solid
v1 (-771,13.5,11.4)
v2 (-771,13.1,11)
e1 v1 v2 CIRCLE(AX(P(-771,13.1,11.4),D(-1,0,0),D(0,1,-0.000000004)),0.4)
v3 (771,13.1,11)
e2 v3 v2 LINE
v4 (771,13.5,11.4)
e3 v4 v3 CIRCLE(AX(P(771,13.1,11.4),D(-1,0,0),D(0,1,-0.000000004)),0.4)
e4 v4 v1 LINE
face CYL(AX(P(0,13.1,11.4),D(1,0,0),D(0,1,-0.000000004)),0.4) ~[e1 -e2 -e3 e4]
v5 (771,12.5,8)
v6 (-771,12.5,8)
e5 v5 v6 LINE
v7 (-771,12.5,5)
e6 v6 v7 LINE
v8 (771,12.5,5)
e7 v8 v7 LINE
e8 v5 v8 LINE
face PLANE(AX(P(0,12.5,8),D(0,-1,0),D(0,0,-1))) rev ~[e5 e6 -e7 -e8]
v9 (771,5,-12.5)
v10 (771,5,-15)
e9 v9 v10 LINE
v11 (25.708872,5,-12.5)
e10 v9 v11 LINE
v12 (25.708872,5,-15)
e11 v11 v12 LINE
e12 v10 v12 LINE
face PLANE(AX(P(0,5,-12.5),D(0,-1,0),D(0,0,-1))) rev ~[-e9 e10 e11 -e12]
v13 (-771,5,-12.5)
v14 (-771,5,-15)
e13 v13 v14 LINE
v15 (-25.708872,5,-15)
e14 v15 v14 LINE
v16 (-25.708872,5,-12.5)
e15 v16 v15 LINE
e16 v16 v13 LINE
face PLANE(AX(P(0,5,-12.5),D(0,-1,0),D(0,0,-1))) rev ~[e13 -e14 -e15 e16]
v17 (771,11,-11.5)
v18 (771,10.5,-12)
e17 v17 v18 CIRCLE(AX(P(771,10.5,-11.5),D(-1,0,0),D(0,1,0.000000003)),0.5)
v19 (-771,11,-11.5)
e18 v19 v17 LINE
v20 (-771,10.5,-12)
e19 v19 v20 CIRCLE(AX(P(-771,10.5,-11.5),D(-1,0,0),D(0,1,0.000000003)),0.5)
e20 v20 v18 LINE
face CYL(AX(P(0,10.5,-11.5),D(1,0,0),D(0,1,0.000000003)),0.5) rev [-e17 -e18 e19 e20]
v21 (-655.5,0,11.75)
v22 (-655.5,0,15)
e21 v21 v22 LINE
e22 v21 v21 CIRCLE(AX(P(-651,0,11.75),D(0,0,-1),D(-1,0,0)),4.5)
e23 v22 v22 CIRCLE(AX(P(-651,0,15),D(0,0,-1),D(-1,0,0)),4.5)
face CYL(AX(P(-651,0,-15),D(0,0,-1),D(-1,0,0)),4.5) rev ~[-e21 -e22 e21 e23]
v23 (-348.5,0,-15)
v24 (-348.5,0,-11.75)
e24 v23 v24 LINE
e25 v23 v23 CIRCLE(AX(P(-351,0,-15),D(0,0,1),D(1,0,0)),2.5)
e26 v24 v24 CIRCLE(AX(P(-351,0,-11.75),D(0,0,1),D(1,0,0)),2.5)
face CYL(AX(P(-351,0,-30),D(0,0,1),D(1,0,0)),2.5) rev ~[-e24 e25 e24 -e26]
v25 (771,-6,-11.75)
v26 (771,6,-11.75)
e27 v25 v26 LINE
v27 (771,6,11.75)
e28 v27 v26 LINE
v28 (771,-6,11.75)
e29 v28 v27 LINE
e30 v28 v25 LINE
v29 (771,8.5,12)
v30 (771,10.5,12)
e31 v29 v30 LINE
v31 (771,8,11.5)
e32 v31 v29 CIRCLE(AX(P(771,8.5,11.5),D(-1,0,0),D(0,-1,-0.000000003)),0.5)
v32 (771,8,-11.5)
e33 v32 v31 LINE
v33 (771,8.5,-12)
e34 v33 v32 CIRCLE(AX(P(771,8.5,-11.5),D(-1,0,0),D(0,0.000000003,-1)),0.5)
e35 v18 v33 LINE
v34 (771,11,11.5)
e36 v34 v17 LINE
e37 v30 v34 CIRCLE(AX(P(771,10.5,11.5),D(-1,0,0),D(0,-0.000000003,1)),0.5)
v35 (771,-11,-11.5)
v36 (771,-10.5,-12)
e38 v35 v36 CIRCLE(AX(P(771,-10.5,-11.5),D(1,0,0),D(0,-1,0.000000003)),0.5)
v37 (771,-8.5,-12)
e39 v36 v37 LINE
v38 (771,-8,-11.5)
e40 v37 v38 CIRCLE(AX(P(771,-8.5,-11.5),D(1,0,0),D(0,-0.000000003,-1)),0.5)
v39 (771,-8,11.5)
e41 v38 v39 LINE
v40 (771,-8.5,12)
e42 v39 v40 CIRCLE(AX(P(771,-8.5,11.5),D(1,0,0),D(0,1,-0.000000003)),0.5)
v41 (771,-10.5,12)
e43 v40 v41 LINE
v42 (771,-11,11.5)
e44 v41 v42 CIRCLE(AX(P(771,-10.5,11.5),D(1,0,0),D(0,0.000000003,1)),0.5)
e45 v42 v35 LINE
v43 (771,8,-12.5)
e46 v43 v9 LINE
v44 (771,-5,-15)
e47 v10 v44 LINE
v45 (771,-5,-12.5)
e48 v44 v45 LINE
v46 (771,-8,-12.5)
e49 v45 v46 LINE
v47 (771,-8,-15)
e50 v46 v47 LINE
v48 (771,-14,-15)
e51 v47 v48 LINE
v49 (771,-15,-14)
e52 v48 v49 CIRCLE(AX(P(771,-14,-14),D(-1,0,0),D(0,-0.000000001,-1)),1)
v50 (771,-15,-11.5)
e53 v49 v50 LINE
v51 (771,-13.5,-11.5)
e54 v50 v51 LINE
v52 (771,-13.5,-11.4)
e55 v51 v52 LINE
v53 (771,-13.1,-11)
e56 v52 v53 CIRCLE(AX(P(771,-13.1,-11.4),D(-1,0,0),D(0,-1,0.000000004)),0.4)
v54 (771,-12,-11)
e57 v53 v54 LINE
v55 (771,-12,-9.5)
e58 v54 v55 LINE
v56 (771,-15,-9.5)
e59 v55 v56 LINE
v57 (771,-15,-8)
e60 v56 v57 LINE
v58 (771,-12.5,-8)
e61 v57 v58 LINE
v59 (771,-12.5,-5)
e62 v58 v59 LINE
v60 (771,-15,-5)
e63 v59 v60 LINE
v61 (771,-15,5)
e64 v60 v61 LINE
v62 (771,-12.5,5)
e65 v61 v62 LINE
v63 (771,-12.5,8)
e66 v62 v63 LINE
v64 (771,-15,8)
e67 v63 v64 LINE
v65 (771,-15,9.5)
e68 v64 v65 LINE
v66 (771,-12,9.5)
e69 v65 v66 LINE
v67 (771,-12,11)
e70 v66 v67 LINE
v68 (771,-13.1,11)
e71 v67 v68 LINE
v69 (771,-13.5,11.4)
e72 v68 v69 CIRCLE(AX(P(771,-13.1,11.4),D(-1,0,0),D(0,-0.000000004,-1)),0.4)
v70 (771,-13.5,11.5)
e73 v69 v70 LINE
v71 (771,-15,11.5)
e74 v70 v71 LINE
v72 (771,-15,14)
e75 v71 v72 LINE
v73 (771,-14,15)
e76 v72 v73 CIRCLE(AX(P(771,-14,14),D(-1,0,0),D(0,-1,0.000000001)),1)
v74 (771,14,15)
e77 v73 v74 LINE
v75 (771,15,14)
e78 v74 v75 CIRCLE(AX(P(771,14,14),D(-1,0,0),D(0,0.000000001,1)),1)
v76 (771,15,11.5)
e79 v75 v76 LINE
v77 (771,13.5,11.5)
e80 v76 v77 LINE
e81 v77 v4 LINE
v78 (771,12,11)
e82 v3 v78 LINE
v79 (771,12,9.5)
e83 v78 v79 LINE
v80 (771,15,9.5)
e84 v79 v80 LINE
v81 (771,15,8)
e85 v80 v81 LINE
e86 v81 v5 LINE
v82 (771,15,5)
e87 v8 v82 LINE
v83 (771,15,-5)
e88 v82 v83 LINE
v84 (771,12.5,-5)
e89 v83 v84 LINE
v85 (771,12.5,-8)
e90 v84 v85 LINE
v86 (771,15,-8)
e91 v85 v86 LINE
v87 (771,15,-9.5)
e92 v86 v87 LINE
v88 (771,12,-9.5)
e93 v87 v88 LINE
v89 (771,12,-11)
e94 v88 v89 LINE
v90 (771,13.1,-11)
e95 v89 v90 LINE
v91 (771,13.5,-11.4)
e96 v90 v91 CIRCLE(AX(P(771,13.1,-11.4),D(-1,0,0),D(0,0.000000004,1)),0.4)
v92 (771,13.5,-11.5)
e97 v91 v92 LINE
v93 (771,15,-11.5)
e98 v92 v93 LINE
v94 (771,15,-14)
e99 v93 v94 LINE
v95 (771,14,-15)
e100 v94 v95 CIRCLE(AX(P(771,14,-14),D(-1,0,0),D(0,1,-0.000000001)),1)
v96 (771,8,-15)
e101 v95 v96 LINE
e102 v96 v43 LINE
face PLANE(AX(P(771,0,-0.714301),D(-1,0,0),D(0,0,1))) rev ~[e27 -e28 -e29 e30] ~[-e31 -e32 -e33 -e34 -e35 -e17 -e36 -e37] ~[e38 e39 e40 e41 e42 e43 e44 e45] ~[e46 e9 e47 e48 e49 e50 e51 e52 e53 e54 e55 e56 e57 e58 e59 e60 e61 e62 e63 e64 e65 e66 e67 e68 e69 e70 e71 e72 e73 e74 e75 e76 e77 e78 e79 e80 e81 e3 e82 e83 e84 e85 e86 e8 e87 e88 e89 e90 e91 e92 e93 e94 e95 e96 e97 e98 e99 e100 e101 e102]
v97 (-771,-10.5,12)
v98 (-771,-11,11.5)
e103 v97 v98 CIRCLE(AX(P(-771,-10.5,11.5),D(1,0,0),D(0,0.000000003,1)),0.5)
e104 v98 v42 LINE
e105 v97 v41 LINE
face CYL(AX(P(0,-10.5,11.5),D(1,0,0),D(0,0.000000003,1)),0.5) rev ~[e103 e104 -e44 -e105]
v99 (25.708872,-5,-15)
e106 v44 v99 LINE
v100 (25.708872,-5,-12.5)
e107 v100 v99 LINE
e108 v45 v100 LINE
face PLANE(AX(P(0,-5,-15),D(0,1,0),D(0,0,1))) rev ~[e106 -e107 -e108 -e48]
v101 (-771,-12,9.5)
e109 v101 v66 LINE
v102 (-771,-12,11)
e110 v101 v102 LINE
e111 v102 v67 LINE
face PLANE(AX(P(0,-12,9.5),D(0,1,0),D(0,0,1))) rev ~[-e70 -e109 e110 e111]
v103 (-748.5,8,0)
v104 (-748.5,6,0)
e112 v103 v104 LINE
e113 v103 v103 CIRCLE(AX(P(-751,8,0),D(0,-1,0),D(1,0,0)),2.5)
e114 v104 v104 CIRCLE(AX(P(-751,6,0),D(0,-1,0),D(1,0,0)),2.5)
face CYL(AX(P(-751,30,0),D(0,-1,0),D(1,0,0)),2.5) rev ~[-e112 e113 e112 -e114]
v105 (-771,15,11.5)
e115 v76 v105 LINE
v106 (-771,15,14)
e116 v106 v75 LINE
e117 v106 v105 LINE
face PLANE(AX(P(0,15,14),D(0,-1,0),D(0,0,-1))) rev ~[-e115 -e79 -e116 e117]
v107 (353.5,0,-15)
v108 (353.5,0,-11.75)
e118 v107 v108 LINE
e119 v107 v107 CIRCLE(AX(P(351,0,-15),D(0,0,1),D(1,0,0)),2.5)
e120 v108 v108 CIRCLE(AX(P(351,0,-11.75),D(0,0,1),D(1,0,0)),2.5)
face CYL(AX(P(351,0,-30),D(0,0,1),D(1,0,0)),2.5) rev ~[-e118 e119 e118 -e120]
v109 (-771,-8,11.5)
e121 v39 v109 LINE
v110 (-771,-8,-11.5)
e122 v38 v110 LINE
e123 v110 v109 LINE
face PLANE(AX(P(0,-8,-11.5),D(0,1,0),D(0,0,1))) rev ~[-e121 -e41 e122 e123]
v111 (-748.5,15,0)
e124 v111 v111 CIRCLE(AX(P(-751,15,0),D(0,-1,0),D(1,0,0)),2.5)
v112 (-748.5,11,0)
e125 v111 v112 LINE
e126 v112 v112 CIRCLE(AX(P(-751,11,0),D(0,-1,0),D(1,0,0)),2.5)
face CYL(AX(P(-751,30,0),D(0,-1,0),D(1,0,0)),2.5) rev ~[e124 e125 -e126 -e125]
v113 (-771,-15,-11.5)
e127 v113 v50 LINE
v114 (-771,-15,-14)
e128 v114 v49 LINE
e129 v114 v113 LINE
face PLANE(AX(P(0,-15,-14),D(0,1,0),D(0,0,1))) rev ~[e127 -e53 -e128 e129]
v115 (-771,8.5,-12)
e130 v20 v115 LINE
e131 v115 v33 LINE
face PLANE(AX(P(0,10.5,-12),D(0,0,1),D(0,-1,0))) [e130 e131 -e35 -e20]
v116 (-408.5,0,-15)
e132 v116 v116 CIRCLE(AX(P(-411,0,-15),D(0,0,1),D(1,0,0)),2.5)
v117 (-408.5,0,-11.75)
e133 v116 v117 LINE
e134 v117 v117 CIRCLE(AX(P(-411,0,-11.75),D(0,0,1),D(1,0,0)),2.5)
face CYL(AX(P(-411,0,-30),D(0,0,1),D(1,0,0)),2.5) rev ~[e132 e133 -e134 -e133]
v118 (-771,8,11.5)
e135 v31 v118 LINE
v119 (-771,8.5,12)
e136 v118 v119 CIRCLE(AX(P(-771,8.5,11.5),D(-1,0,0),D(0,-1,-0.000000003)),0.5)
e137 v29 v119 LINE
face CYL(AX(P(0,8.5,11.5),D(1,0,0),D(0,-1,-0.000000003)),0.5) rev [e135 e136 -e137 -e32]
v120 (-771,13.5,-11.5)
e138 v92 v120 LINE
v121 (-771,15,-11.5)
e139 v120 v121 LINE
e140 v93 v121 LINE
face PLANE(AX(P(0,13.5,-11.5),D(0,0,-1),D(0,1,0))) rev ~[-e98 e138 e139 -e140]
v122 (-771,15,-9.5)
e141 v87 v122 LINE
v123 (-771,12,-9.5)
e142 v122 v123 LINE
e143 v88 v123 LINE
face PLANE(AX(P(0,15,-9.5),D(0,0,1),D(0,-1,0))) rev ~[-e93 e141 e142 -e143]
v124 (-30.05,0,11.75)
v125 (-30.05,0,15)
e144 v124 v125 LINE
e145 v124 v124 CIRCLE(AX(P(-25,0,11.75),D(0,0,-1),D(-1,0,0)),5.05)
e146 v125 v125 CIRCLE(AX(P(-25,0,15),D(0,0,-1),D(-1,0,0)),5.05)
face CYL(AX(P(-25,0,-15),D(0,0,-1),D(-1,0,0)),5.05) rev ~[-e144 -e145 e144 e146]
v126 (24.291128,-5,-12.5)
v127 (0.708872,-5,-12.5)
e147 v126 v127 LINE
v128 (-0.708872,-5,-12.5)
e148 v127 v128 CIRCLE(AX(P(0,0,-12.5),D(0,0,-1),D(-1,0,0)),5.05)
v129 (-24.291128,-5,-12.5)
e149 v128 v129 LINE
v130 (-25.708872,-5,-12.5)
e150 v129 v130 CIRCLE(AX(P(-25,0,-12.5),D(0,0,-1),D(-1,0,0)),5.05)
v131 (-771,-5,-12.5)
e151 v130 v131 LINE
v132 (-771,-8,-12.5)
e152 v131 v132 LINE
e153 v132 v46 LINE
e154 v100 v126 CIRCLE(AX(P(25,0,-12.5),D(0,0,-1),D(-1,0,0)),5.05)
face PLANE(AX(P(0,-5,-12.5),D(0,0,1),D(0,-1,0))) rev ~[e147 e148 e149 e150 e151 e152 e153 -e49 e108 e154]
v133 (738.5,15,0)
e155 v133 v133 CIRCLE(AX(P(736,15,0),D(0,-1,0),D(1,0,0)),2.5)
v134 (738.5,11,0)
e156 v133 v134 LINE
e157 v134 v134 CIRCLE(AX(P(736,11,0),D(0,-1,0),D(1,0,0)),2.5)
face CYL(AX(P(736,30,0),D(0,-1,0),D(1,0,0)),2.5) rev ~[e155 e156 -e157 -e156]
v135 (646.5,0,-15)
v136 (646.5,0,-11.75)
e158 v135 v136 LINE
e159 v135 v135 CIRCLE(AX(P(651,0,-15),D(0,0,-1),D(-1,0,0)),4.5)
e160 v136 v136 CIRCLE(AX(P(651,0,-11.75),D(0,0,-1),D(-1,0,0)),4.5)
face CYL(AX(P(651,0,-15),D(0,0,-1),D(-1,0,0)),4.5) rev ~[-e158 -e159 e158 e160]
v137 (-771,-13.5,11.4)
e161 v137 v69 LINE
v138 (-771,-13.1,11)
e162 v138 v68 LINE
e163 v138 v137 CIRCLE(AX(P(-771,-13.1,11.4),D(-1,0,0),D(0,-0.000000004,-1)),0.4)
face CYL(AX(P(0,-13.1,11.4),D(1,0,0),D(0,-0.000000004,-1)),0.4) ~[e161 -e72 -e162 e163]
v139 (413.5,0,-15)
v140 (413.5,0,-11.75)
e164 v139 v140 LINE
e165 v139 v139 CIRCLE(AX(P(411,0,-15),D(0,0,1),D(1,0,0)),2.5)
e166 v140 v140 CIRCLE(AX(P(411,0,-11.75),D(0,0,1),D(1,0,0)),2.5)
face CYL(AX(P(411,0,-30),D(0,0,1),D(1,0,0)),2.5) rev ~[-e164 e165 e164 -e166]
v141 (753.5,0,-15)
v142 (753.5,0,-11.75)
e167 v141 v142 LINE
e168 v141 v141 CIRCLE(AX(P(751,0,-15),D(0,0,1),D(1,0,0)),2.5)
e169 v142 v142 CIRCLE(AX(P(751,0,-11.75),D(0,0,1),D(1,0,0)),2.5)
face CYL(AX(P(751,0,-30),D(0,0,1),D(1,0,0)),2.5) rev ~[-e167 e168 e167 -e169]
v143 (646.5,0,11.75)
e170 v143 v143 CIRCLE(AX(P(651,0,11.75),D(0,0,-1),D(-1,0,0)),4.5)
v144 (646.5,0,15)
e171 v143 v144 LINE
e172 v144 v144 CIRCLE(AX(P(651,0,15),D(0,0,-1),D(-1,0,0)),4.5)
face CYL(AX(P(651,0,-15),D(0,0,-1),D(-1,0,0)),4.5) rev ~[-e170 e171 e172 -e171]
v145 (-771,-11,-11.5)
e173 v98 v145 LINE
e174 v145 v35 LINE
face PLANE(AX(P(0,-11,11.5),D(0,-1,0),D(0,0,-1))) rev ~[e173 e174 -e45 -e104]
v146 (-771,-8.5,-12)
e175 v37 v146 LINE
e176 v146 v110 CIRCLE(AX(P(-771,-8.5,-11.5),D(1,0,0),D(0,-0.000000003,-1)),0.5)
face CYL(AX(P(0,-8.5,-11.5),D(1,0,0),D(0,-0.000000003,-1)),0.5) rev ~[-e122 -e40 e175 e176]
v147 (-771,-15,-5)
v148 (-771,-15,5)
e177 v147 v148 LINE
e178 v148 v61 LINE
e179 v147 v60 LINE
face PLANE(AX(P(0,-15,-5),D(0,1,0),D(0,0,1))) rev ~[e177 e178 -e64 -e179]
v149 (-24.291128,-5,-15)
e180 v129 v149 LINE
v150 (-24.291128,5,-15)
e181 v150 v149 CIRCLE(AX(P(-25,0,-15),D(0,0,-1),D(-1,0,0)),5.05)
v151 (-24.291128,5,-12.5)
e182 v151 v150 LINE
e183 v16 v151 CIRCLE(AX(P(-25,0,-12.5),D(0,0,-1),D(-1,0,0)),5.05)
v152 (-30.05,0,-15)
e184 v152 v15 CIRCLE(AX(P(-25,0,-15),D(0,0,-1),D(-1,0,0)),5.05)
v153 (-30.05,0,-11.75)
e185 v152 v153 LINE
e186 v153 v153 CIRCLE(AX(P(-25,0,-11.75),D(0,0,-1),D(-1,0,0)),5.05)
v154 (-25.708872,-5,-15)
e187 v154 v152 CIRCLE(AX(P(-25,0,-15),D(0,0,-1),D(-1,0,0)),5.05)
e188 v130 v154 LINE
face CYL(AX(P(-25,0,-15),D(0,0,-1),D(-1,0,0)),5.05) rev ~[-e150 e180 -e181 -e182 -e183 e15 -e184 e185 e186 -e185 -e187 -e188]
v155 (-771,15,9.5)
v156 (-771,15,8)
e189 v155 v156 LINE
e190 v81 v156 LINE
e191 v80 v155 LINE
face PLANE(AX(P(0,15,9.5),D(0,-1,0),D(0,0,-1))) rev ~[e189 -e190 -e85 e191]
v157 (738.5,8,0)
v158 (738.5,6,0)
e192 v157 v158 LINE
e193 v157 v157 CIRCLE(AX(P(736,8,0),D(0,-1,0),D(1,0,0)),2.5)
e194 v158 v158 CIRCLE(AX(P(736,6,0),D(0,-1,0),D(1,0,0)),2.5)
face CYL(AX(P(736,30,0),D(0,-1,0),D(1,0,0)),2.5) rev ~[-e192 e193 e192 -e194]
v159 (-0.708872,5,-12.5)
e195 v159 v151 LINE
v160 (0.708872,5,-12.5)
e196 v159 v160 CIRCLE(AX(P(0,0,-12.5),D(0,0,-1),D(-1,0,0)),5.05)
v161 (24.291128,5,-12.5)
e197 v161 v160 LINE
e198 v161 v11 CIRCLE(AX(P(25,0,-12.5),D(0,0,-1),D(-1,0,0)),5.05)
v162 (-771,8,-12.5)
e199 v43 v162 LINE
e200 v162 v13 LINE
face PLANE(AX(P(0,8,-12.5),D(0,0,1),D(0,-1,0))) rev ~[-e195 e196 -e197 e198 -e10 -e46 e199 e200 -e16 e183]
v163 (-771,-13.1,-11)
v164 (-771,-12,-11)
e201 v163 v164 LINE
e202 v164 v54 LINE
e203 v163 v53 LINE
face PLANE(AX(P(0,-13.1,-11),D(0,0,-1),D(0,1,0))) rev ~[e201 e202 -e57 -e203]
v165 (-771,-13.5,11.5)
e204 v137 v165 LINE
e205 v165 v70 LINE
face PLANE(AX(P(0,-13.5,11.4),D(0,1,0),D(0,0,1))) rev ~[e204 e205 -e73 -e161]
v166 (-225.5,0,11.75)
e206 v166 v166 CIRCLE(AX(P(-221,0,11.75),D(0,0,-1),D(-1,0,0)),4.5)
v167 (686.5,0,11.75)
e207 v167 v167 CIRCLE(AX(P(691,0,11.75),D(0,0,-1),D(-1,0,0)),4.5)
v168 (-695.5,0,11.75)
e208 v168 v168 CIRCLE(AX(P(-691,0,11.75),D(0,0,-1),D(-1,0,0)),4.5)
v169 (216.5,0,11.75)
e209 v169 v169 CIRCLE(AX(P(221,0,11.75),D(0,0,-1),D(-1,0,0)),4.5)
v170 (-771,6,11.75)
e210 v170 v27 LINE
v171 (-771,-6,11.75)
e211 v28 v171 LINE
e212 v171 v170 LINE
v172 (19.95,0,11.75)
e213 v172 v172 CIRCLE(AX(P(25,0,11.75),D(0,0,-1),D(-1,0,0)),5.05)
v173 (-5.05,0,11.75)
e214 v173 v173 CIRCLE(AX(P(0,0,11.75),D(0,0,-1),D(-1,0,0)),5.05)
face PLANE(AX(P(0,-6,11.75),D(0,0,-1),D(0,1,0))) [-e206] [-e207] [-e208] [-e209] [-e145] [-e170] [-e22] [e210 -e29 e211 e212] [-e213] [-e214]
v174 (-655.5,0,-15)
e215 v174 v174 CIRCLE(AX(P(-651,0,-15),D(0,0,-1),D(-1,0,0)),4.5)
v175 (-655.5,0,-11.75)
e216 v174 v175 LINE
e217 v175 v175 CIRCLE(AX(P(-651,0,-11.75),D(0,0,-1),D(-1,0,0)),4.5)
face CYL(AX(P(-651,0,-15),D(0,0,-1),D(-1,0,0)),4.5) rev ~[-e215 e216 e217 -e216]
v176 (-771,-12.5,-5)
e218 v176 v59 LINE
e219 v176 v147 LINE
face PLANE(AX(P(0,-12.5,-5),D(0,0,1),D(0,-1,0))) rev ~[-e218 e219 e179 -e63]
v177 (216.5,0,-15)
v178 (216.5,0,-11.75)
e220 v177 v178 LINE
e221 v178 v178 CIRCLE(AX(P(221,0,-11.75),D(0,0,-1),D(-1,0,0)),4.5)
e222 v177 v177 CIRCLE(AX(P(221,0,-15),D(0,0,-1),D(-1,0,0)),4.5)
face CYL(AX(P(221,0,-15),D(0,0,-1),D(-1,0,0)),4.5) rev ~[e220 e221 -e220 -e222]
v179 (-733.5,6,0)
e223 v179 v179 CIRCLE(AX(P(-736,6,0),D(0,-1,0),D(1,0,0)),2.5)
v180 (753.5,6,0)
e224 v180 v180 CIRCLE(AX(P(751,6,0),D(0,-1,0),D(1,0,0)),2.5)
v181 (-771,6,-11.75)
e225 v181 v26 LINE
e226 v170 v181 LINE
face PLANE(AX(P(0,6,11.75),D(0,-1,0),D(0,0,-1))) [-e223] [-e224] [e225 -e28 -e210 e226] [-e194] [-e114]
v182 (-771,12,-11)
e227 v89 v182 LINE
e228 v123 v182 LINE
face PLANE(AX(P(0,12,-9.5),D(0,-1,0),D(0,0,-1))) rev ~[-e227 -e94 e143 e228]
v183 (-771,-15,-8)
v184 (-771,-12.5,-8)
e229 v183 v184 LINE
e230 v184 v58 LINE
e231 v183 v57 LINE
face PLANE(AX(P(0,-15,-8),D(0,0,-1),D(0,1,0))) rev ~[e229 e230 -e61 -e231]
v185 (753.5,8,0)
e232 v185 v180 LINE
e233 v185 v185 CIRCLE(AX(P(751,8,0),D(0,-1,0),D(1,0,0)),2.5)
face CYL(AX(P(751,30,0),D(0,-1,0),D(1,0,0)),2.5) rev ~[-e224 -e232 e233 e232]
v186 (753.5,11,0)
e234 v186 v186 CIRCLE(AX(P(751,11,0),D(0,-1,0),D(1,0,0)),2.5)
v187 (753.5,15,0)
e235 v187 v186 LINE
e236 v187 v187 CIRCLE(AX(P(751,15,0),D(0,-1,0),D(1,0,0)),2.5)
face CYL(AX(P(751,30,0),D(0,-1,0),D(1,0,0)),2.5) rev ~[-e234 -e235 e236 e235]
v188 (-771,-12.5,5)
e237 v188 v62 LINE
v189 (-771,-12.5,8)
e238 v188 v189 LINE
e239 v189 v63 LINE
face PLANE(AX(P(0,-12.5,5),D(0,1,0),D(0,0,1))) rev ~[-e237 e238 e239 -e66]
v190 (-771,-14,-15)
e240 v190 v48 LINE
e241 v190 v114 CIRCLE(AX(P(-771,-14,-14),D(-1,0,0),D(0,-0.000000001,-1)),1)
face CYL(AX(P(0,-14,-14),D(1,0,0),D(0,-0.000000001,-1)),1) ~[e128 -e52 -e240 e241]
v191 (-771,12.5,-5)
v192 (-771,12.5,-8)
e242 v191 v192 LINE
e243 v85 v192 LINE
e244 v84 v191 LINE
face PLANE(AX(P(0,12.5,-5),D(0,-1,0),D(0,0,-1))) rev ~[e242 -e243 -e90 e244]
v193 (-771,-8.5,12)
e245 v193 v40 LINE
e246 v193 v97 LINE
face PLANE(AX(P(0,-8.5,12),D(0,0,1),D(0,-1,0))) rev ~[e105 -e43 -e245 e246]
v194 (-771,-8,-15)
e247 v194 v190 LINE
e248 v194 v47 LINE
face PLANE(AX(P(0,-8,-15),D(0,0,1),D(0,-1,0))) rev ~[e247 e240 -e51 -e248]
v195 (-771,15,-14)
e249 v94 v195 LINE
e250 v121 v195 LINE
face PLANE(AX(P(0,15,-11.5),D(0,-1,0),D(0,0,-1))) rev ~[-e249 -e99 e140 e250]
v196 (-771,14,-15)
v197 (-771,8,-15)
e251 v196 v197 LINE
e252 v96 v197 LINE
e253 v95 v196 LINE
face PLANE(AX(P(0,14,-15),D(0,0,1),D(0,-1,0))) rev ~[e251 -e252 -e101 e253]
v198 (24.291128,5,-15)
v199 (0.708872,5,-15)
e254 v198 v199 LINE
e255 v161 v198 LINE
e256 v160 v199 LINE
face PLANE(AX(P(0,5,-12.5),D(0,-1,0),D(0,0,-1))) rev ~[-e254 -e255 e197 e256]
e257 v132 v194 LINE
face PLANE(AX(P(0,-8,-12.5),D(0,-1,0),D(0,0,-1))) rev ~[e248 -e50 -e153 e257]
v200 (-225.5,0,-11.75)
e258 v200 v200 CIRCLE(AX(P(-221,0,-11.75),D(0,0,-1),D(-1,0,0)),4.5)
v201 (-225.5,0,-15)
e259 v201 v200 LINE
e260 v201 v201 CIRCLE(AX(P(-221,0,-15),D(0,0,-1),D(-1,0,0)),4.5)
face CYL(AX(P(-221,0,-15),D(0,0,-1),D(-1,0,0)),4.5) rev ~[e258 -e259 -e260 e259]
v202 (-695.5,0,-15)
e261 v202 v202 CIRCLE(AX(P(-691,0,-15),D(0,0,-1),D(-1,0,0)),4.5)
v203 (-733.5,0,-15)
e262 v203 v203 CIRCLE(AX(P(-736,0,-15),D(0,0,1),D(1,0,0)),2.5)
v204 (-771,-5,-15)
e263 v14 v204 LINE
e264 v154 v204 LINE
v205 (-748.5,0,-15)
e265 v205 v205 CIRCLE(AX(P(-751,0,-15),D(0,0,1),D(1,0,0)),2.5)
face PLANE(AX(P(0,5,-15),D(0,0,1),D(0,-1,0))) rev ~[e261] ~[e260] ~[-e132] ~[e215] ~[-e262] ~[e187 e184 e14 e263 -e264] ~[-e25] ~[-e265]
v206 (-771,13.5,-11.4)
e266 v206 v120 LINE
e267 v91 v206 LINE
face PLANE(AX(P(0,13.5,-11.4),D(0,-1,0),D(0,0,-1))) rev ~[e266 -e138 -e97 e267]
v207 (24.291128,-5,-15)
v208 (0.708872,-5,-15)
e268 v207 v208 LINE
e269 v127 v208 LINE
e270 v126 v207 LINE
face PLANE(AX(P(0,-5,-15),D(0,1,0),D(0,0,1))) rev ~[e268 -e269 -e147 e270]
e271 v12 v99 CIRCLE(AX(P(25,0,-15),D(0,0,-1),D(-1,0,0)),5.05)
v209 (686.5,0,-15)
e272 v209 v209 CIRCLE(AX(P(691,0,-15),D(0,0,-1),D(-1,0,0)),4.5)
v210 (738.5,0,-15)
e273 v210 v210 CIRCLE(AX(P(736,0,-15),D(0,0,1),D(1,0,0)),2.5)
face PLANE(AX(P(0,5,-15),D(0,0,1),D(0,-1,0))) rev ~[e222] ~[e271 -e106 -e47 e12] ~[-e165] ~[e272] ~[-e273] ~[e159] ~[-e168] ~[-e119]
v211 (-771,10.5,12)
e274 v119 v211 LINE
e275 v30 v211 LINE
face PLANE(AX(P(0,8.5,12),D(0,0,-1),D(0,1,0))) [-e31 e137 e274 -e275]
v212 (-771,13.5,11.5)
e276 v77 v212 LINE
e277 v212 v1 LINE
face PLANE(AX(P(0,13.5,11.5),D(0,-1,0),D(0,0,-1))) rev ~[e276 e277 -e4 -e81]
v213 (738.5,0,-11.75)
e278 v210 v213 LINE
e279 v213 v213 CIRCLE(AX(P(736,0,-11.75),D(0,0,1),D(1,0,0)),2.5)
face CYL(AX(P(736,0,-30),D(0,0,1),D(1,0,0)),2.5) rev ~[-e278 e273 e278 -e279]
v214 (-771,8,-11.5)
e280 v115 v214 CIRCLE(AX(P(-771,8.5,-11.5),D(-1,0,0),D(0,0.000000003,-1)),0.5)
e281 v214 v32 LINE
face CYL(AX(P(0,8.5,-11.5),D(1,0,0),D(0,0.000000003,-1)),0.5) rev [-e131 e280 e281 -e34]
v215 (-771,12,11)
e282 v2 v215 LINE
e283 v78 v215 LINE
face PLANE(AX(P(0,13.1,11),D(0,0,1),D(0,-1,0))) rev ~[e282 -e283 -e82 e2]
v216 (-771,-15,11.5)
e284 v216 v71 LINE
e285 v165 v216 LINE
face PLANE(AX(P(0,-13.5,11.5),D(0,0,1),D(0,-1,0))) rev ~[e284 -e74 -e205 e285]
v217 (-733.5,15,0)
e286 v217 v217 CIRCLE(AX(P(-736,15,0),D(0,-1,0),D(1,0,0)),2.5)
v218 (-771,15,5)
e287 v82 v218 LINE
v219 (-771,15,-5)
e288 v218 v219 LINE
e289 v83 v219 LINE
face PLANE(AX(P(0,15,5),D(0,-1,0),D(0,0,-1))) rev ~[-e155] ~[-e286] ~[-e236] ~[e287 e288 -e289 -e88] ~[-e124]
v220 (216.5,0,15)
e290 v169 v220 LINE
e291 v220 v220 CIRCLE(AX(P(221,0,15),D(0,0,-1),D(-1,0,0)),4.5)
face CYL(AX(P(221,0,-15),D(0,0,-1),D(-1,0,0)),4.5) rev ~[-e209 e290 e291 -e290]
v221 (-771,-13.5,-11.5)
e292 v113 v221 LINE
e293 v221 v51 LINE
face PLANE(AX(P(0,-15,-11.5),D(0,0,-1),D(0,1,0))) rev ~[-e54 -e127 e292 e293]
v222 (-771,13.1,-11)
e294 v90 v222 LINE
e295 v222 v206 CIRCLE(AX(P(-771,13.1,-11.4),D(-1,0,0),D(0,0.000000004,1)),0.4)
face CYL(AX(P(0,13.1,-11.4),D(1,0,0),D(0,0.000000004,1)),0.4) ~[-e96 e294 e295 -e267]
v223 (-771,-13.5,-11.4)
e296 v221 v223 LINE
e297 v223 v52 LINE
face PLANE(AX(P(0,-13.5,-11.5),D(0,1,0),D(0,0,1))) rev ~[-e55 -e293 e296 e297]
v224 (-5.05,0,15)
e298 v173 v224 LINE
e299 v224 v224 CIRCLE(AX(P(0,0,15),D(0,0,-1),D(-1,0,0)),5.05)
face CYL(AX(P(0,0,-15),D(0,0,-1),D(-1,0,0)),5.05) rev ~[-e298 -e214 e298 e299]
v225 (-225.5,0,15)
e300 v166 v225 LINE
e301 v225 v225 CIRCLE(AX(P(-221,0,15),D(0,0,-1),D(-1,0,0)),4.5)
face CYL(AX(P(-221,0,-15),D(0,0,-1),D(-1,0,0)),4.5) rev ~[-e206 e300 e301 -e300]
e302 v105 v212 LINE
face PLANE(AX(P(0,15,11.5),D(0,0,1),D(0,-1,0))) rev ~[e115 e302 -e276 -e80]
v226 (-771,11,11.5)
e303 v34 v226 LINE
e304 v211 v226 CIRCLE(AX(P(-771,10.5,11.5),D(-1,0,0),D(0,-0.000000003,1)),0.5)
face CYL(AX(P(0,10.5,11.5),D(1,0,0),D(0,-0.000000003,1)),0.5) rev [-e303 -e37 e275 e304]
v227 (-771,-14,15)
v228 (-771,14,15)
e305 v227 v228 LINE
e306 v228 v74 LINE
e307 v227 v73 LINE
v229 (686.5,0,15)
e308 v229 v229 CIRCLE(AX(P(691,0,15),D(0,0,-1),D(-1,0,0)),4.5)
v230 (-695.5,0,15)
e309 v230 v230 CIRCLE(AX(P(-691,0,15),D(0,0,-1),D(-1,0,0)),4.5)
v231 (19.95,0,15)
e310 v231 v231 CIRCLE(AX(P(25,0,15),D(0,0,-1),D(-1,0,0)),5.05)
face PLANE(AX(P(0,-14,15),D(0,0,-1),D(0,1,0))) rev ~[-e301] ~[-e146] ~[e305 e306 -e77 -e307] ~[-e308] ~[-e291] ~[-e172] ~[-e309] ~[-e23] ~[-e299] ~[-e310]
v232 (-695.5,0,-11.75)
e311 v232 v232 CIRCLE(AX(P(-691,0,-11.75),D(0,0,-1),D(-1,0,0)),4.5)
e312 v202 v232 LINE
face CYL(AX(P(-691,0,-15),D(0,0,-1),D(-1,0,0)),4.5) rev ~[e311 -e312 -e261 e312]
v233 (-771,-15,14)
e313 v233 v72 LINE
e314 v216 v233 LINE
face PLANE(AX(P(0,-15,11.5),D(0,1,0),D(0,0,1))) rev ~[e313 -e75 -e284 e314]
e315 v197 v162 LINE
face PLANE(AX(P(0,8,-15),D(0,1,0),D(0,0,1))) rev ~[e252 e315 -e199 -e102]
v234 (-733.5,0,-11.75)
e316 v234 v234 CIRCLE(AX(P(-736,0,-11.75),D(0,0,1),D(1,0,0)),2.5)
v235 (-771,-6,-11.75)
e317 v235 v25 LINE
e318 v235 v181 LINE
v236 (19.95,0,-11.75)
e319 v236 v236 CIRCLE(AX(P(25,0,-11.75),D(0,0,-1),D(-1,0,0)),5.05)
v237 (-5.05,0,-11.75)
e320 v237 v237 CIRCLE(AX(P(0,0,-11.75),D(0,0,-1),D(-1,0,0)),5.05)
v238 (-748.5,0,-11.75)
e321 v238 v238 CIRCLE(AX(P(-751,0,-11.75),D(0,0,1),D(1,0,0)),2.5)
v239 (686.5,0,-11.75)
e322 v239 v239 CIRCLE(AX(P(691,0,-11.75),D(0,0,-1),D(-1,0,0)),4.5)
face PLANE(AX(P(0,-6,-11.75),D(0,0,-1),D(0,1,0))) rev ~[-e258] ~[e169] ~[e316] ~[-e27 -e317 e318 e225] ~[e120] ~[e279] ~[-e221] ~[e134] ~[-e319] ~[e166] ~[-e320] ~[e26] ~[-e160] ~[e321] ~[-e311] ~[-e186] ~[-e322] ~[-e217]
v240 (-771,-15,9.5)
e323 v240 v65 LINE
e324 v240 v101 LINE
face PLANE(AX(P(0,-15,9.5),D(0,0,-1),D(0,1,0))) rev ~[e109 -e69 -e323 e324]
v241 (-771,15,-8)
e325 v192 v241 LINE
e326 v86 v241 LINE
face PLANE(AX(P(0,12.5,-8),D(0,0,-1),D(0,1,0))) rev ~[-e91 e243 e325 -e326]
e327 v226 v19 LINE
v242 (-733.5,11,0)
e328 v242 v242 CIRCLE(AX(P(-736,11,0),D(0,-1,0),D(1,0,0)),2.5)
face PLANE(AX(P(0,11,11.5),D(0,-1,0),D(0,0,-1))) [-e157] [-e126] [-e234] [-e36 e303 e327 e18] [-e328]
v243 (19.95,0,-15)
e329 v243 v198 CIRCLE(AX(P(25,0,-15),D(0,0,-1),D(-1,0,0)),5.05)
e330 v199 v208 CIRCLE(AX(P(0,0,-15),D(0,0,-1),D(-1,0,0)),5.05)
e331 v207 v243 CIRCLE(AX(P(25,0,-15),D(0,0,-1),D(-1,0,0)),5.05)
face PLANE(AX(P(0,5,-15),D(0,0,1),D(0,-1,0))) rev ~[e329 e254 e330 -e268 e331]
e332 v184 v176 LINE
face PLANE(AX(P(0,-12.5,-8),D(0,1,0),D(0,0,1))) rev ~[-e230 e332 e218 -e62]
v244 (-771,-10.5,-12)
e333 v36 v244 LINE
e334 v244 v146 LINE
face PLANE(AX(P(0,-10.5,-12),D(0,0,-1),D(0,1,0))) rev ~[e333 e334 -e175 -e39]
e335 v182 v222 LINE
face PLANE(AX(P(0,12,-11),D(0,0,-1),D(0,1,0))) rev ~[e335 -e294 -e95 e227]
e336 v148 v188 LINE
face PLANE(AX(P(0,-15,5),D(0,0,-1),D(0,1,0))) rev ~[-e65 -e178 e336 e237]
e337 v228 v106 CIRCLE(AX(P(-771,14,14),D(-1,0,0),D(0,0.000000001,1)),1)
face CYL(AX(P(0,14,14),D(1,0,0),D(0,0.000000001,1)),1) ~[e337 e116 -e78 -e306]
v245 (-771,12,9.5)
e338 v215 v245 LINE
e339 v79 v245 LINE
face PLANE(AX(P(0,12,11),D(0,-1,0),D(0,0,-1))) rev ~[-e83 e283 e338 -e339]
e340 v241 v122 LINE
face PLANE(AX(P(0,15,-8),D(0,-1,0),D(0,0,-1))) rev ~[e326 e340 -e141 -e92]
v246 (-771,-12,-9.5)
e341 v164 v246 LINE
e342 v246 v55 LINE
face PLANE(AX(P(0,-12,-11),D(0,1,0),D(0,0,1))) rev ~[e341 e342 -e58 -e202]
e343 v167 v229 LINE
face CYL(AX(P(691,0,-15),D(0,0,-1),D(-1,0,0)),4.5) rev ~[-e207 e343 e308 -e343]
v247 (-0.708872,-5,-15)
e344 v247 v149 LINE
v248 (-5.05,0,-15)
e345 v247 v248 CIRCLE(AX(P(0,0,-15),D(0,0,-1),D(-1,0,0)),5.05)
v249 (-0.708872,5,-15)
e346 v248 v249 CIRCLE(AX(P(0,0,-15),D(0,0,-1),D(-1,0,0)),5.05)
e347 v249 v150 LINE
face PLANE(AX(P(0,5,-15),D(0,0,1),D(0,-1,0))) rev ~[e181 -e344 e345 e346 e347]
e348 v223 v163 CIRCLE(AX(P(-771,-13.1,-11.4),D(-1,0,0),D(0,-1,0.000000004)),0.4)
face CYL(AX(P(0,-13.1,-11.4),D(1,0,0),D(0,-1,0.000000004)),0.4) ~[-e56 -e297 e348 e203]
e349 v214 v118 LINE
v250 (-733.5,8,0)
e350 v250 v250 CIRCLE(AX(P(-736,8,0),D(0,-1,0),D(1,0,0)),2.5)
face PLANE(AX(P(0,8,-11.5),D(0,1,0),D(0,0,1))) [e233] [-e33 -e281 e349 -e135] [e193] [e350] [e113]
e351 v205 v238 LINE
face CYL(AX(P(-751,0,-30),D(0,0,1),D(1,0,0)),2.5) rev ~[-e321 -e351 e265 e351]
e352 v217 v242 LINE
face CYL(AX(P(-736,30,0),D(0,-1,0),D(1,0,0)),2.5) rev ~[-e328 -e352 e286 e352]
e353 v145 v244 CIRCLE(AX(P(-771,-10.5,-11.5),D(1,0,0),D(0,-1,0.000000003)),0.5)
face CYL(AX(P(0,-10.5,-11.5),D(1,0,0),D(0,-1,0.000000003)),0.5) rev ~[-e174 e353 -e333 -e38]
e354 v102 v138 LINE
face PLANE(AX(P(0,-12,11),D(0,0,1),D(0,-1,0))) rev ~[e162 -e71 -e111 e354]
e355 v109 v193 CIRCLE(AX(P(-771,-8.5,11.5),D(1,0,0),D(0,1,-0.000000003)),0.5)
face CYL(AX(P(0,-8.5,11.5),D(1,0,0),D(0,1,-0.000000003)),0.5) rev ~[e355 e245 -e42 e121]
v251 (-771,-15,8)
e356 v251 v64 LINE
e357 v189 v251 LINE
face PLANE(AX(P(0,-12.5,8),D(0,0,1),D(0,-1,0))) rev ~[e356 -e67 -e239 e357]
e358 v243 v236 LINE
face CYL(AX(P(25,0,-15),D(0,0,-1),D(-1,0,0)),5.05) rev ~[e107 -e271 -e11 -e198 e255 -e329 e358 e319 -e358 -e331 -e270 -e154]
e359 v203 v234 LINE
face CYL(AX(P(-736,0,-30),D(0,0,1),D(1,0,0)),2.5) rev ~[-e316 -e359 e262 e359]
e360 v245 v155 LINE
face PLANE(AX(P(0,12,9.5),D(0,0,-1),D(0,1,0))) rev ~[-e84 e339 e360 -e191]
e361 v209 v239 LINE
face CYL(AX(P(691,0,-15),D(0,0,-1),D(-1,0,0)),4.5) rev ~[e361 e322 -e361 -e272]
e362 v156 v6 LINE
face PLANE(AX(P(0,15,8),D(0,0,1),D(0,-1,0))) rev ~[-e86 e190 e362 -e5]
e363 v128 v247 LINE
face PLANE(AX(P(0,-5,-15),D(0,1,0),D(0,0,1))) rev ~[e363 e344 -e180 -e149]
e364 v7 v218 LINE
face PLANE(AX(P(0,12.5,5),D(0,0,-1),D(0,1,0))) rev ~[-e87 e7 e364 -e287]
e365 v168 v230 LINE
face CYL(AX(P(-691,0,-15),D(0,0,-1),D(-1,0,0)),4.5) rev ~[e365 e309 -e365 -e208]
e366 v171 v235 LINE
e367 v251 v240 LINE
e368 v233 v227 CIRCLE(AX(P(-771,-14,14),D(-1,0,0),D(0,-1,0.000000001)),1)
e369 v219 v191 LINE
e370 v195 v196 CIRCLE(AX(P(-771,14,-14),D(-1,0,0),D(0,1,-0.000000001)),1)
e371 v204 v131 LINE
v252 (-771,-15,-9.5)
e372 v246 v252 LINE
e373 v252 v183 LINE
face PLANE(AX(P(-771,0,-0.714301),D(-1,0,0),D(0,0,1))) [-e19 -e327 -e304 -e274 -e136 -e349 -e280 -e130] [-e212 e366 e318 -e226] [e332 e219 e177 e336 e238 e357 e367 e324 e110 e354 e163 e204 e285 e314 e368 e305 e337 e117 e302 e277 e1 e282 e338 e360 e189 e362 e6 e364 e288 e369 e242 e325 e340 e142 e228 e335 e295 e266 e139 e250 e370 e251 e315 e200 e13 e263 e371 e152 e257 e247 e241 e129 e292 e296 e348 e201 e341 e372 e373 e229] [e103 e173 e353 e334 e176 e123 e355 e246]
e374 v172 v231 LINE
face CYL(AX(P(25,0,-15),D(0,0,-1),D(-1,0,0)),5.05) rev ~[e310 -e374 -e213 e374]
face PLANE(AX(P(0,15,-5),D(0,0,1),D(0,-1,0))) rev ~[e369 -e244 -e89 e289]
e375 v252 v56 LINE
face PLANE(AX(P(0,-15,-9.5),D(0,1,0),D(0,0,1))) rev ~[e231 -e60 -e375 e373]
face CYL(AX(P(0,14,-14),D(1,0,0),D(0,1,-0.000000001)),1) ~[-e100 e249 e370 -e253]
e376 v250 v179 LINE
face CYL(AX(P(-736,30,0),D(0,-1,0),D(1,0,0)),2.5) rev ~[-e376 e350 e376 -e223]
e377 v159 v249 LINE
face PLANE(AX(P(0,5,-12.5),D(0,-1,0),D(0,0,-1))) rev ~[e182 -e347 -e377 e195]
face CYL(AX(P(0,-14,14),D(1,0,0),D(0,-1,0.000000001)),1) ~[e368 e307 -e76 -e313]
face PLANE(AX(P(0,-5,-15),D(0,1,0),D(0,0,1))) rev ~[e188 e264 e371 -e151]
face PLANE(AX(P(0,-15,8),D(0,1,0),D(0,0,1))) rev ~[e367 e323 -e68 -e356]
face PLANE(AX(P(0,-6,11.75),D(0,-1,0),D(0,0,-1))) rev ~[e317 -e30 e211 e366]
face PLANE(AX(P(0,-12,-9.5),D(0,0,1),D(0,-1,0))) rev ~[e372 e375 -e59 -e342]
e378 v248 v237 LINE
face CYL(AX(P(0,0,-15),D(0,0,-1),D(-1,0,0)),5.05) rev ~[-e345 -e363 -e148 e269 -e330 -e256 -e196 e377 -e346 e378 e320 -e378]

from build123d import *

# Parameters (mm, degrees)
SKETCH_1_W             = 23.5
SKETCH_1_H             = 12
EXTRUDE_1_DEPTH        = 771
HOLE_WIZARD_M6_3_D     = 5
HOLE_WIZARD_M6_3_DEPTH = 15
HOLE_WIZARD_M6_3_TIP   = 1.502151548
SKETCH_13_R            = 5.05
CUT_EXTRUDE_6_DEPTH    = 772.729227126
HOLE_WIZARD_M6_4_D     = 5
HOLE_WIZARD_M6_4_DEPTH = 15
HOLE_WIZARD_M6_4_TIP   = 1.502151548
SKETCH_10_R            = 4.5
CUT_EXTRUDE_7_DEPTH    = 772.729227126
HOLE_WIZARD_M6_5_D     = 5
HOLE_WIZARD_M6_5_DEPTH = 15
HOLE_WIZARD_M6_5_TIP   = 1.502151548


with BuildPart() as part:
    # 草图1 → 凸台-拉伸1 (new, symmetric)
    with BuildSketch(Plane(origin=(0, 0, 0), x_dir=(0, 0, -1), z_dir=(1, 0, 0))):
        with BuildLine():
            Line((-14, 15), (-11.5, 15))
            Line((-11.5, 15), (-11.5, 13.5))
            Line((-11.5, 13.5), (-11.4, 13.5))
            ThreePointArc((-11.4, 13.5), (-11.117157288, 13.382842712), (-11, 13.1))
            Line((-11, 13.1), (-11, 12))
            Line((-11, 12), (-9.5, 12))
            Line((-9.5, 12), (-9.5, 15))
            Line((-9.5, 15), (-8, 15))
            Line((-8, 15), (-8, 12.5))
            Line((-8, 12.5), (-5, 12.5))
            Line((-5, 12.5), (-5, 15))
            Line((-5, 15), (5, 15))
            Line((5, 15), (5, 12.5))
            Line((5, 12.5), (8, 12.5))
            Line((8, 12.5), (8, 15))
            Line((8, 15), (9.5, 15))
            Line((9.5, 15), (9.5, 12))
            Line((9.5, 12), (11, 12))
            Line((11, 12), (11, 13.1))
            ThreePointArc((11, 13.1), (11.117157288, 13.382842712), (11.4, 13.5))
            Line((11.4, 13.5), (11.5, 13.5))
            Line((11.5, 13.5), (11.5, 15))
            Line((11.5, 15), (14, 15))
            ThreePointArc((14, 15), (14.707106781, 14.707106781), (15, 14))
            Line((15, 14), (15, 8))
            Line((15, 8), (12.5, 8))
            Line((12.5, 8), (12.5, 5))
            Line((12.5, 5), (15, 5))
            Line((15, 5), (15, -5))
            Line((15, -5), (12.5, -5))
            Line((12.5, -5), (12.5, -8))
            Line((12.5, -8), (15, -8))
            Line((15, -8), (15, -14))
            ThreePointArc((15, -14), (14.707106781, -14.707106781), (14, -15))
            Line((14, -15), (11.5, -15))
            Line((11.5, -15), (11.5, -13.5))
            Line((11.5, -13.5), (11.4, -13.5))
            ThreePointArc((11.4, -13.5), (11.117157288, -13.382842712), (11, -13.1))
            Line((11, -13.1), (11, -12))
            Line((11, -12), (9.5, -12))
            Line((9.5, -12), (9.5, -15))
            Line((9.5, -15), (8, -15))
            Line((8, -15), (8, -12.5))
            Line((8, -12.5), (5, -12.5))
            Line((5, -12.5), (5, -15))
            Line((5, -15), (-5, -15))
            Line((-5, -15), (-5, -12.5))
            Line((-5, -12.5), (-8, -12.5))
            Line((-8, -12.5), (-8, -15))
            Line((-8, -15), (-9.5, -15))
            Line((-9.5, -15), (-9.5, -12))
            Line((-9.5, -12), (-11, -12))
            Line((-11, -12), (-11, -13.1))
            ThreePointArc((-11, -13.1), (-11.117157288, -13.382842712), (-11.4, -13.5))
            Line((-11.4, -13.5), (-11.5, -13.5))
            Line((-11.5, -13.5), (-11.5, -15))
            Line((-11.5, -15), (-14, -15))
            ThreePointArc((-14, -15), (-14.707106781, -14.707106781), (-15, -14))
            Line((-15, -14), (-15, 14))
            ThreePointArc((-15, 14), (-14.707106781, 14.707106781), (-14, 15))
        make_face()
        with BuildLine():
            Line((12, -10.5), (12, -8.5))
            ThreePointArc((12, -8.5), (11.853553391, -8.146446609), (11.5, -8))
            Line((11.5, -8), (-11.5, -8))
            ThreePointArc((-11.5, -8), (-11.853553391, -8.146446609), (-12, -8.5))
            Line((-12, -8.5), (-12, -10.5))
            ThreePointArc((-12, -10.5), (-11.853553391, -10.853553391), (-11.5, -11))
            Line((-11.5, -11), (11.5, -11))
            ThreePointArc((11.5, -11), (11.853553391, -10.853553391), (12, -10.5))
        make_face(mode=Mode.SUBTRACT)
        with BuildLine():
            Line((-11.5, 11), (11.5, 11))
            ThreePointArc((11.5, 11), (11.853553391, 10.853553391), (12, 10.5))
            Line((12, 10.5), (12, 8.5))
            ThreePointArc((12, 8.5), (11.853553391, 8.146446609), (11.5, 8))
            Line((11.5, 8), (-11.5, 8))
            ThreePointArc((-11.5, 8), (-11.853553391, 8.146446609), (-12, 8.5))
            Line((-12, 8.5), (-12, 10.5))
            ThreePointArc((-12, 10.5), (-11.853553391, 10.853553391), (-11.5, 11))
        make_face(mode=Mode.SUBTRACT)
        Rectangle(SKETCH_1_W, SKETCH_1_H, mode=Mode.SUBTRACT)
    extrude(amount=EXTRUDE_1_DEPTH, both=True)

    # M6 螺纹孔3
    with Locations(Plane(origin=(0, 0, -15), x_dir=(-1, 0, 0), z_dir=(0, 0, -1))):
        with Locations((-751, 0), (-736, 0), (736, 0), (751, 0)):
            Hole(HOLE_WIZARD_M6_3_D / 2, depth=HOLE_WIZARD_M6_3_DEPTH)
            with Locations((0, 0, -(HOLE_WIZARD_M6_3_DEPTH + HOLE_WIZARD_M6_3_TIP / 2))):  # 118° drill point
                Cone(0, HOLE_WIZARD_M6_3_D / 2, HOLE_WIZARD_M6_3_TIP, mode=Mode.SUBTRACT)

    # 草图13 → 切除-拉伸6 (cut, through all)
    with BuildSketch(Plane(origin=(0, 0, -15), x_dir=(-1, 0, 0), z_dir=(0, 0, -1))):
        Circle(SKETCH_13_R)
        with Locations((25, 0)):
            Circle(SKETCH_13_R)
        with Locations((-25, 0)):
            Circle(SKETCH_13_R)
    extrude(amount=-CUT_EXTRUDE_6_DEPTH, mode=Mode.SUBTRACT)

    # M6 螺纹孔4
    with Locations(Plane(origin=(0, 0, -15), x_dir=(-1, 0, 0), z_dir=(0, 0, -1))):
        with Locations((-411, 0), (-351, 0), (351, 0), (411, 0)):
            Hole(HOLE_WIZARD_M6_4_D / 2, depth=HOLE_WIZARD_M6_4_DEPTH)
            with Locations((0, 0, -(HOLE_WIZARD_M6_4_DEPTH + HOLE_WIZARD_M6_4_TIP / 2))):  # 118° drill point
                Cone(0, HOLE_WIZARD_M6_4_D / 2, HOLE_WIZARD_M6_4_TIP, mode=Mode.SUBTRACT)

    # 草图10 → 切除-拉伸7 (cut, through all)
    with BuildSketch(Plane(origin=(0, 0, -15), x_dir=(-1, 0, 0), z_dir=(0, 0, -1))):
        with Locations((-651, 0)):
            Circle(SKETCH_10_R)
        with Locations((-221, 0)):
            Circle(SKETCH_10_R)
        with Locations((221, 0)):
            Circle(SKETCH_10_R)
        with Locations((651, 0)):
            Circle(SKETCH_10_R)
        with Locations((691, 0)):
            Circle(SKETCH_10_R)
        with Locations((-691, 0)):
            Circle(SKETCH_10_R)
    extrude(amount=-CUT_EXTRUDE_7_DEPTH, mode=Mode.SUBTRACT)

    # M6 螺纹孔5
    with Locations(Plane(origin=(0, 15, 0), x_dir=(-1, 0, 0), z_dir=(0, 1, 0))):
        with Locations((-751, 0), (-736, 0), (736, 0), (751, 0)):
            Hole(HOLE_WIZARD_M6_5_D / 2, depth=HOLE_WIZARD_M6_5_DEPTH)
            with Locations((0, 0, -(HOLE_WIZARD_M6_5_DEPTH + HOLE_WIZARD_M6_5_TIP / 2))):  # 118° drill point
                Cone(0, HOLE_WIZARD_M6_5_D / 2, HOLE_WIZARD_M6_5_TIP, mode=Mode.SUBTRACT)


solid = part.part
